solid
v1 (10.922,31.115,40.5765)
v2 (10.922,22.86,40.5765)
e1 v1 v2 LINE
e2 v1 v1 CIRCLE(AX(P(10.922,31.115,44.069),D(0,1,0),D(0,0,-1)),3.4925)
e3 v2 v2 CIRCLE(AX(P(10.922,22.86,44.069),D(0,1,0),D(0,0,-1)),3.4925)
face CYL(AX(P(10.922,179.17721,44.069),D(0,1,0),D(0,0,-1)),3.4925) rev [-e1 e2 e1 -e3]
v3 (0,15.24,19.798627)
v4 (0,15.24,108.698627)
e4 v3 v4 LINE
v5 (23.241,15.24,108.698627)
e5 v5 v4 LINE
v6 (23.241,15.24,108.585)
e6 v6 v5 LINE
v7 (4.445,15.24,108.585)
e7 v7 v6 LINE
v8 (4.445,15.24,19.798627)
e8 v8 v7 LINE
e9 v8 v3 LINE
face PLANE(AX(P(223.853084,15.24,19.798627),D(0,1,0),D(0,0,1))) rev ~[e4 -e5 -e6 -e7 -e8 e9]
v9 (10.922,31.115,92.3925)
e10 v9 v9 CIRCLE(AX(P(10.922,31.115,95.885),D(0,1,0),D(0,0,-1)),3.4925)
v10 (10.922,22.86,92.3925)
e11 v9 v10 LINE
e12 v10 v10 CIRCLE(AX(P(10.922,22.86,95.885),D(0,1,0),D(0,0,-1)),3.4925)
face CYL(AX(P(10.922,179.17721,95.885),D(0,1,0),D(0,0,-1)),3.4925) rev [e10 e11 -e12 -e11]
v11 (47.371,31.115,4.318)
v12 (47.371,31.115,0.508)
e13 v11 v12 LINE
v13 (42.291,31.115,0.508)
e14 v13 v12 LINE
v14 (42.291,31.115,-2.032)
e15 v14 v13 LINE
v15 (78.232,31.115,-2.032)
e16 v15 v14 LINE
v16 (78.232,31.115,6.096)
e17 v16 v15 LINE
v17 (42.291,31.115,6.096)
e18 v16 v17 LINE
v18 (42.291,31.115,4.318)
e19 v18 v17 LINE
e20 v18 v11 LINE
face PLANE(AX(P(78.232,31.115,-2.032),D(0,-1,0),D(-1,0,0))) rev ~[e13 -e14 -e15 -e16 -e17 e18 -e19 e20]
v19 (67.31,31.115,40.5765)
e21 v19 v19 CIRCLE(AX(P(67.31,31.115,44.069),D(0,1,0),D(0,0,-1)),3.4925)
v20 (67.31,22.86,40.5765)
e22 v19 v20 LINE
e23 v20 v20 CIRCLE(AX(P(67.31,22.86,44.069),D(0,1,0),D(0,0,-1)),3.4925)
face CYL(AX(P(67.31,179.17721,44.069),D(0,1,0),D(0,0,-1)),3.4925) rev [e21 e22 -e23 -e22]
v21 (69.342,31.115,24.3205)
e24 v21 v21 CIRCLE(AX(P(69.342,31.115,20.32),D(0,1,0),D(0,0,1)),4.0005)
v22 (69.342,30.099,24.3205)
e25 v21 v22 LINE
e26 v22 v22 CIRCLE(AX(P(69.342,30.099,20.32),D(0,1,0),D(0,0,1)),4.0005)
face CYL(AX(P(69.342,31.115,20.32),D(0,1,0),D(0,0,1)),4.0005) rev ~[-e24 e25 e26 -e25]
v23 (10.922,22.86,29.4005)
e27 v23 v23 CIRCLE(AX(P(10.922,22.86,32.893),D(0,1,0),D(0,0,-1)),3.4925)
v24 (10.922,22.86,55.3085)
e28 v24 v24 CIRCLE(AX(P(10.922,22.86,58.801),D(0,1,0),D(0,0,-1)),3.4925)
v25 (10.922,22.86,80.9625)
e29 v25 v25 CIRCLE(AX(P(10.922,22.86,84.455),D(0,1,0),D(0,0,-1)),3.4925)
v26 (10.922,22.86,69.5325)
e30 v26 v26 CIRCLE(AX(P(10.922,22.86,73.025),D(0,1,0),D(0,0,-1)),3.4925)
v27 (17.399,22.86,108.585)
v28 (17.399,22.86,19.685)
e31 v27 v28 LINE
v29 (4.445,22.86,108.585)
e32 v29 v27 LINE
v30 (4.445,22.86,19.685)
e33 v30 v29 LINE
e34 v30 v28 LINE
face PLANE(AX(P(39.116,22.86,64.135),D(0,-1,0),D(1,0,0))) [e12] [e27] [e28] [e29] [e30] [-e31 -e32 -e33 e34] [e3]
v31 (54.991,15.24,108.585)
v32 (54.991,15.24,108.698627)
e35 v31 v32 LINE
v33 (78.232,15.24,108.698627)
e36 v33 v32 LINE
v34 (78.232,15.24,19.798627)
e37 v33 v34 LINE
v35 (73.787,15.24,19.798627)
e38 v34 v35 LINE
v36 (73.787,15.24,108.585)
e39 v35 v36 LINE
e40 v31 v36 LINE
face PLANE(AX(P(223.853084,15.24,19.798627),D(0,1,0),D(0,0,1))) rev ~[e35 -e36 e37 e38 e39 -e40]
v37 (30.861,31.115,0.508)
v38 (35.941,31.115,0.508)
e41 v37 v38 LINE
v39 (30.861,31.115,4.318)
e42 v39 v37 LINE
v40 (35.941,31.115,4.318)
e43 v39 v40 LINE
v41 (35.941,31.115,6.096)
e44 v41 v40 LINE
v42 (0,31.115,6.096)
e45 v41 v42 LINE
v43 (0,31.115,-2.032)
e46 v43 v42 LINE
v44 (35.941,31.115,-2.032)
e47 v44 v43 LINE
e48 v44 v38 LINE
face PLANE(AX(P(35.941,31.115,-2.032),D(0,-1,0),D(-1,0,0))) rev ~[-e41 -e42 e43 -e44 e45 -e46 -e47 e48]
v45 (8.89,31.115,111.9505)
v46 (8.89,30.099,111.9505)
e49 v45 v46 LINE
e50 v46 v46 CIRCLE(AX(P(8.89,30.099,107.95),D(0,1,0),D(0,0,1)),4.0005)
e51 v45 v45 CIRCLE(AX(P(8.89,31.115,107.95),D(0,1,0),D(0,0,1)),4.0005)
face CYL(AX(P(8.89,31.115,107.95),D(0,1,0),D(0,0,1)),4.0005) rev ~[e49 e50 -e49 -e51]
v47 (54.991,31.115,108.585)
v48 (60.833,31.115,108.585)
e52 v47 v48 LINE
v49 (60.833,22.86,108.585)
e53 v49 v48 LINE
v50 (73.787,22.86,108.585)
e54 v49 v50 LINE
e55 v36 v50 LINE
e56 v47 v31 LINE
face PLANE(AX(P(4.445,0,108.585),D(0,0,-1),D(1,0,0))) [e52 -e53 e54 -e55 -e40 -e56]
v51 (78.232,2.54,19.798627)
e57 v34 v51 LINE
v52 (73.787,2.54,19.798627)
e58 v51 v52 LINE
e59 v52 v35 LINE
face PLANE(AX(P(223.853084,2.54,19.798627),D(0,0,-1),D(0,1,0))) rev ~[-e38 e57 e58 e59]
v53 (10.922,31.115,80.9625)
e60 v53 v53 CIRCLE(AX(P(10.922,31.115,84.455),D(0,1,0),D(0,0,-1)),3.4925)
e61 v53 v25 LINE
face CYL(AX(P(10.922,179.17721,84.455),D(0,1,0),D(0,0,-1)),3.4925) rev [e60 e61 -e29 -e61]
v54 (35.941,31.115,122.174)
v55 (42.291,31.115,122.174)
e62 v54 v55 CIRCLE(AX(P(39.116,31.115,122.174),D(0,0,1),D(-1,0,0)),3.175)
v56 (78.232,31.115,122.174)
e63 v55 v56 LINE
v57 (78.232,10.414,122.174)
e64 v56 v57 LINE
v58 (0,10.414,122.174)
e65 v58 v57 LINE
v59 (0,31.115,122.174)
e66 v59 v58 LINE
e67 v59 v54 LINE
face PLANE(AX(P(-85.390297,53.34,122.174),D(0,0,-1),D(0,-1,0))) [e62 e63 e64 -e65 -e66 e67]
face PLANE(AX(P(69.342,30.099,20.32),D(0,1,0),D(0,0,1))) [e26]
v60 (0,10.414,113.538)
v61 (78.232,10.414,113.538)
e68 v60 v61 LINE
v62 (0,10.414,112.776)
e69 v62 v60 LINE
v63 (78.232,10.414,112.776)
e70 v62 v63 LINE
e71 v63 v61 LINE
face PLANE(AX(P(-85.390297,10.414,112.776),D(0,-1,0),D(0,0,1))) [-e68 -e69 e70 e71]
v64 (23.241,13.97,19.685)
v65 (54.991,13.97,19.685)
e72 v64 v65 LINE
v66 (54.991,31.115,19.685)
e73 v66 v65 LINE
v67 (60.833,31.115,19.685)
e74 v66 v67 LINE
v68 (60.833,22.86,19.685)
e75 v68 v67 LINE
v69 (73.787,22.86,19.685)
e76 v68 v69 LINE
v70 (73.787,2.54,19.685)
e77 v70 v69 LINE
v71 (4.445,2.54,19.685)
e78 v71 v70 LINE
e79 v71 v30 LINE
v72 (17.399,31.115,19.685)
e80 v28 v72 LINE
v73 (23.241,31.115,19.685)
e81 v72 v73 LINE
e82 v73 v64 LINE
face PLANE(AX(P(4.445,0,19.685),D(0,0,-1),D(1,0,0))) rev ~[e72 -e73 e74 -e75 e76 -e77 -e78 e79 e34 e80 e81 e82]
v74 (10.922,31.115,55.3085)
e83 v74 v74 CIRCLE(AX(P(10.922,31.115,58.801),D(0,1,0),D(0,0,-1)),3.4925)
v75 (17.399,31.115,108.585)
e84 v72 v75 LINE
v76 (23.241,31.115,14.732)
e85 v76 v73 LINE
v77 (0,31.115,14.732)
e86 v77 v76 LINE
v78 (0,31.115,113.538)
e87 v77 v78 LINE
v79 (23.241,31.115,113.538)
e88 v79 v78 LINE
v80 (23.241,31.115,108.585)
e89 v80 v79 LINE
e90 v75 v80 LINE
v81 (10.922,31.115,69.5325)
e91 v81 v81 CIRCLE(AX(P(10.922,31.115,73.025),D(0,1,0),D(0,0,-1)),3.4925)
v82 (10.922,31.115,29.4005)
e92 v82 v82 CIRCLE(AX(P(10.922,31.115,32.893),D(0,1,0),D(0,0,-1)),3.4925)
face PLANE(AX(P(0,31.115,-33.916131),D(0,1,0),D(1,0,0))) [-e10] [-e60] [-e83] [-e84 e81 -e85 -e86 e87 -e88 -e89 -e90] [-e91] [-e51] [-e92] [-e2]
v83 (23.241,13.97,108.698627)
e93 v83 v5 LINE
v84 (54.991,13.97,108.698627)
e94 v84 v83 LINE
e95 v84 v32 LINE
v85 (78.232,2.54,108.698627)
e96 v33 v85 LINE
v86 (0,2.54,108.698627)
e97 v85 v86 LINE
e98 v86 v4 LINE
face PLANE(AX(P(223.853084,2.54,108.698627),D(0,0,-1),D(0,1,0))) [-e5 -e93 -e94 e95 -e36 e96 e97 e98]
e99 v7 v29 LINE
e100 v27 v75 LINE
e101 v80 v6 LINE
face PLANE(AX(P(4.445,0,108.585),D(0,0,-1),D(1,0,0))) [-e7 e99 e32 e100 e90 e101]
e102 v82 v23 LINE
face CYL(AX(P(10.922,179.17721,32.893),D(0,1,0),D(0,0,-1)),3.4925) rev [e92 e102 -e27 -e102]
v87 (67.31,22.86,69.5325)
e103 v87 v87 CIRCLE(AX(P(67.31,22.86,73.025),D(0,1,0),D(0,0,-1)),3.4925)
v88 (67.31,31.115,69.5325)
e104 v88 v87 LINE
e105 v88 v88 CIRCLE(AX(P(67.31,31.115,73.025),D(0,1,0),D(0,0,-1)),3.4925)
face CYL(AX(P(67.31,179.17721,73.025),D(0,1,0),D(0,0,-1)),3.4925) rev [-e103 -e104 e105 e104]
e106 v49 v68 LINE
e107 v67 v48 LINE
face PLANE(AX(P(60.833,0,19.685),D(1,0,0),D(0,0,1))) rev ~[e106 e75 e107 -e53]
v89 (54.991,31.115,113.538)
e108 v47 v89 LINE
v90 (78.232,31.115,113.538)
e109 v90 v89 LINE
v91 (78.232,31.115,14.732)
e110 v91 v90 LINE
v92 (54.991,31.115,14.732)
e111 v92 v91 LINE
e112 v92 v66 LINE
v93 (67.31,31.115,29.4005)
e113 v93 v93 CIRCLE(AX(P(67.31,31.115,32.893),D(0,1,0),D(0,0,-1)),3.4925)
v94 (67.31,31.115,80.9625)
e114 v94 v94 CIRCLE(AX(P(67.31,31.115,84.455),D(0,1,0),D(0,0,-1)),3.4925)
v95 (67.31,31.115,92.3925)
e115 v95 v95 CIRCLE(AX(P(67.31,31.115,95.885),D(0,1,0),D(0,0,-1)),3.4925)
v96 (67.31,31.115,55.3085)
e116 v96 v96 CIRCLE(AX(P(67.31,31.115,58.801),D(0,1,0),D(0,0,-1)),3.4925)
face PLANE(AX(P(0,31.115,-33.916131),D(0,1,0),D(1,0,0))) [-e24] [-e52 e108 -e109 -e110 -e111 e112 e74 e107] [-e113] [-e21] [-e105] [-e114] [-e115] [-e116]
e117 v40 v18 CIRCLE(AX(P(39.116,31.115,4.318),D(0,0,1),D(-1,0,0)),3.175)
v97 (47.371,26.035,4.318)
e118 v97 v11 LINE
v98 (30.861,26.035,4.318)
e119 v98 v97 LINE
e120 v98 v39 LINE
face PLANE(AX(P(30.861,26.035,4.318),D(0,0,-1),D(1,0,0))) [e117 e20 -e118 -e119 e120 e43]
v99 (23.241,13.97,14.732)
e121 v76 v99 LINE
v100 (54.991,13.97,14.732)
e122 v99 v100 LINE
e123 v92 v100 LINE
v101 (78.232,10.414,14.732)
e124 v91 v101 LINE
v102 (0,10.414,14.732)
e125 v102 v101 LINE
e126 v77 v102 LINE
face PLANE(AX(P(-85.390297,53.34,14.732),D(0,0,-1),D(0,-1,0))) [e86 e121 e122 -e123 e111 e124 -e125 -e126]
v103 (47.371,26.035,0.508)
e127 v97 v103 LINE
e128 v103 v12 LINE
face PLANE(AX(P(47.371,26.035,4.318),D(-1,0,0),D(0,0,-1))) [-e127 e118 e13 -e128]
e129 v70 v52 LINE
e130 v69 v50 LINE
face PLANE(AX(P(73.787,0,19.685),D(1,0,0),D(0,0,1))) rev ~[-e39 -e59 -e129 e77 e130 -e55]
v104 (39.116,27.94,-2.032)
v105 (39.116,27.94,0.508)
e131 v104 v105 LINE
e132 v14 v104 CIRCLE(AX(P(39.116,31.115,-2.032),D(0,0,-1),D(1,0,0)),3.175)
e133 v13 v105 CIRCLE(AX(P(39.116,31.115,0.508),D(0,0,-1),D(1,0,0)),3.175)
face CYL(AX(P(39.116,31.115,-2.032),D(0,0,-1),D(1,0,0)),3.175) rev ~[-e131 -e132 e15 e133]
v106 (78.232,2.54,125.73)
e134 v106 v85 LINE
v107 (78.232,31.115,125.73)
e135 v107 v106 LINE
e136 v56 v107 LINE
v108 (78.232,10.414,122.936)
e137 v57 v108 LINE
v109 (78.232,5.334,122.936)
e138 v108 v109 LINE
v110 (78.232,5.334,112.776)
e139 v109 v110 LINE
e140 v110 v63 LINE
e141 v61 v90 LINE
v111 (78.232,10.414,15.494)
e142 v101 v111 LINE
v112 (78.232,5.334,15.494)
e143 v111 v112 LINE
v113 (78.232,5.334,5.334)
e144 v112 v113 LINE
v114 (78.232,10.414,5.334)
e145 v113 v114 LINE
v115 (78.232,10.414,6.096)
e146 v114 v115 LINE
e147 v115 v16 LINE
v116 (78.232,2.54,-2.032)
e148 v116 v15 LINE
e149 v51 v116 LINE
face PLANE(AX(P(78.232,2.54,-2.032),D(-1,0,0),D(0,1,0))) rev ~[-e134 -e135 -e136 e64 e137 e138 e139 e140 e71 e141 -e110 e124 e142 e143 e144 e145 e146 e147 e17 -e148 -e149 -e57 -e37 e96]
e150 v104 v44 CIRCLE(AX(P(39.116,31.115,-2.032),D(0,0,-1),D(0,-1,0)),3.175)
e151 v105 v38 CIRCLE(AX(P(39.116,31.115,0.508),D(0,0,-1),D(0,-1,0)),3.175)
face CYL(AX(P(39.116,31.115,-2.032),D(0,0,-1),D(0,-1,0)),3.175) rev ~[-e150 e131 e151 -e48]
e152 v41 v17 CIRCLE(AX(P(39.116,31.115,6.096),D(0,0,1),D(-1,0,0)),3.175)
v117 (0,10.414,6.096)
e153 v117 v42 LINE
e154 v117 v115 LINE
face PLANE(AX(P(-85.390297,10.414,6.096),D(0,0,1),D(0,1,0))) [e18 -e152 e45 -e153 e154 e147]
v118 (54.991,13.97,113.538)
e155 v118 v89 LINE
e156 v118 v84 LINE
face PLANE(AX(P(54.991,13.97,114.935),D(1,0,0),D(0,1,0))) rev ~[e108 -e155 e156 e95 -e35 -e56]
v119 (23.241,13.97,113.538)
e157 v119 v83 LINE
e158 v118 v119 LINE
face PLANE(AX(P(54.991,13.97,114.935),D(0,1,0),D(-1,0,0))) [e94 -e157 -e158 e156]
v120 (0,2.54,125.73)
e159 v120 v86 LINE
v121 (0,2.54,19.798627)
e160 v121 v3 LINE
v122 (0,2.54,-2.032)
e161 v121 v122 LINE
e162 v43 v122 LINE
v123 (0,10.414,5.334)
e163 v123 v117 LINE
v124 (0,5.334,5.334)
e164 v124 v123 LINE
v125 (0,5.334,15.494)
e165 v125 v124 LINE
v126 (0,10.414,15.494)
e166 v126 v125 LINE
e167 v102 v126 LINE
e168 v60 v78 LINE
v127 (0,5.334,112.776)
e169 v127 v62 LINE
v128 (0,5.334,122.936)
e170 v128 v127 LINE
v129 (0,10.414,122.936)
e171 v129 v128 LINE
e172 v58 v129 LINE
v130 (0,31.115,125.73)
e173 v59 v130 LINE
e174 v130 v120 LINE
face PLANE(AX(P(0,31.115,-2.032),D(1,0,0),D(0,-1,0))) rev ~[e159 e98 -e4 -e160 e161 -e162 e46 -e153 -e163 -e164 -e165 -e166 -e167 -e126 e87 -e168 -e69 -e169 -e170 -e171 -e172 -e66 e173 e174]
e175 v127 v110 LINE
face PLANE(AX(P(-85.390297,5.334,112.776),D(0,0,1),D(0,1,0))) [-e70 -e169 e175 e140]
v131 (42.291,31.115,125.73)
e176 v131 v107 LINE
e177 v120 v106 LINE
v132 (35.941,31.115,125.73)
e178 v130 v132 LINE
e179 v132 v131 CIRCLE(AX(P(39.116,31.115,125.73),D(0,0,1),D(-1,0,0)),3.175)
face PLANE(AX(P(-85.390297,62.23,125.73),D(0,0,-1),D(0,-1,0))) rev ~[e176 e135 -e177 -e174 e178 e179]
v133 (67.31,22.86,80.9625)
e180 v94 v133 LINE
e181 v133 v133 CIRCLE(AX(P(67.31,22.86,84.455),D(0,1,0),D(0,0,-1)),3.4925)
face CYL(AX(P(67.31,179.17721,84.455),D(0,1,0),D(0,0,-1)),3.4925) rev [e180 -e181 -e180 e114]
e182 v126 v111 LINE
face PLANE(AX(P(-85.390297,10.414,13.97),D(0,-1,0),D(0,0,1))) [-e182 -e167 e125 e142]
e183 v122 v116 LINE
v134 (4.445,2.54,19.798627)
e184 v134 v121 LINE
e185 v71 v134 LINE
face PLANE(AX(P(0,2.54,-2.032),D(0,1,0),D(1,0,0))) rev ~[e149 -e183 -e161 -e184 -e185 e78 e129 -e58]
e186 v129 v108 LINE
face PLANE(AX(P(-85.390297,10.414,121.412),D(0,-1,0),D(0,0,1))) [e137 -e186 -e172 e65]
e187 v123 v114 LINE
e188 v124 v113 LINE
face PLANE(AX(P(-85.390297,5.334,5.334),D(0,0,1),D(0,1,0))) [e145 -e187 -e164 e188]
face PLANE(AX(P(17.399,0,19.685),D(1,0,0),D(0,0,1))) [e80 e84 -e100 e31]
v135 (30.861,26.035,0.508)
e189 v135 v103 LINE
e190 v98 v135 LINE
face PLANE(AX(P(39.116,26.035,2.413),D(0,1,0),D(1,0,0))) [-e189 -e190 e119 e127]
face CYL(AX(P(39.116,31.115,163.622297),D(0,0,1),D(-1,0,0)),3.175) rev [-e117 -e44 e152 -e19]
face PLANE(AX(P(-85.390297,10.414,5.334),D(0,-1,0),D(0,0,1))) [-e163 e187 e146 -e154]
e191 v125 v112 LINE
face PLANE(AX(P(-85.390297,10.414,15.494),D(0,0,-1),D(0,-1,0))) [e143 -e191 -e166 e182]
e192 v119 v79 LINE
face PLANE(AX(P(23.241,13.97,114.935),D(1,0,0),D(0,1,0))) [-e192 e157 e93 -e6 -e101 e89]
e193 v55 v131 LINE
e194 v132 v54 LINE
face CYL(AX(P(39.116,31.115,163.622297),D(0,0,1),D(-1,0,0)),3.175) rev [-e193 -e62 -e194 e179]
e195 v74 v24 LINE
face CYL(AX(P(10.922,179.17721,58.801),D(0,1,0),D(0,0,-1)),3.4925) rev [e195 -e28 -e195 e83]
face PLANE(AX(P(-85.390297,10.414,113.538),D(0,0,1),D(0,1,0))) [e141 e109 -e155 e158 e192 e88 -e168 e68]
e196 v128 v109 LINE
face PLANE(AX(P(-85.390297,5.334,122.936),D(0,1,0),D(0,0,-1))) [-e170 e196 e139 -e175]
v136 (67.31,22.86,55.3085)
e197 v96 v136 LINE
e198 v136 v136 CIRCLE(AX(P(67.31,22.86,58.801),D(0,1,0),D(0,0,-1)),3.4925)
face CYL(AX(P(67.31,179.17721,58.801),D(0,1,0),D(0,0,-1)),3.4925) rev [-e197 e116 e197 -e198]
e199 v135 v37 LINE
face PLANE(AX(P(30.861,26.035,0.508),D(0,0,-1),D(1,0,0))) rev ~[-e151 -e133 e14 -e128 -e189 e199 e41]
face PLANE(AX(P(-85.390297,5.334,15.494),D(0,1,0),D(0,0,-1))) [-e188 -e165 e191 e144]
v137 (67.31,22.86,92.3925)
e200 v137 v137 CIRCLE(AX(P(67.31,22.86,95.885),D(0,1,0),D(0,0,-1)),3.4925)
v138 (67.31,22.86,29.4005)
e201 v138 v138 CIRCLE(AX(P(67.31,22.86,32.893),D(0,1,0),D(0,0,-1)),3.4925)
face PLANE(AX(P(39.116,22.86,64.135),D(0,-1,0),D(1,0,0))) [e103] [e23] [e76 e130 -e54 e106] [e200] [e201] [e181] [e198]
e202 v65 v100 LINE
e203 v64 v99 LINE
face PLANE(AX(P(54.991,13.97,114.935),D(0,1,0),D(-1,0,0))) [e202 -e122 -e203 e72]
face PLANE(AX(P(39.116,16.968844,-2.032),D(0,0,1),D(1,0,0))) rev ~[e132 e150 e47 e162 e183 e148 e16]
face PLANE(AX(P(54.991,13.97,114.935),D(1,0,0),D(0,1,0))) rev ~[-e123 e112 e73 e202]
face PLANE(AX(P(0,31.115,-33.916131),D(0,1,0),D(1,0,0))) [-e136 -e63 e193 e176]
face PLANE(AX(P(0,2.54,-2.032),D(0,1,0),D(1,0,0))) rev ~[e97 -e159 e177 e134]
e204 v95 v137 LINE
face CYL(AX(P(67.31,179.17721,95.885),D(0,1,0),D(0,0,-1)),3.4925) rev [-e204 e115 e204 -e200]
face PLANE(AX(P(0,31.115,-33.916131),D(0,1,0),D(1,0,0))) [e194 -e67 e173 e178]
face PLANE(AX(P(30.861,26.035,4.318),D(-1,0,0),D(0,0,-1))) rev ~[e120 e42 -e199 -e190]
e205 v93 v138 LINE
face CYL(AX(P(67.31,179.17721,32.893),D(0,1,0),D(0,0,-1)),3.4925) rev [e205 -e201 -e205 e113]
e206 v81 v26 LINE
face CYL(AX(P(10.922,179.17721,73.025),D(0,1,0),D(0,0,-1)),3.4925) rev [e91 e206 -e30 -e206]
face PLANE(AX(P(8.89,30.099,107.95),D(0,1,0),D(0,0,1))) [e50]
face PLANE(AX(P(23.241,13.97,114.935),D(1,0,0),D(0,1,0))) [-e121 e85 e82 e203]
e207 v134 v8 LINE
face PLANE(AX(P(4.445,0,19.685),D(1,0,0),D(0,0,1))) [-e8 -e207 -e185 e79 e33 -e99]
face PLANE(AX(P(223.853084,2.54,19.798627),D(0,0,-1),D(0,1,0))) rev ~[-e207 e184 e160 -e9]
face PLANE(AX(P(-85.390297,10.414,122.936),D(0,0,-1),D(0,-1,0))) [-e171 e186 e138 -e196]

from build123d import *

# Parameters (mm, degrees)
SKETCH1_W                = 78.232
SKETCH1_H                = 62.23
BOSS_EXTRUDE1_DEPTH      = 128.27
SKETCH2_W                = 43.434
SKETCH2_H                = 88.9
CUT_EXTRUDE1_DEPTH       = 44.45
SKETCH3_W                = 69.342
SKETCH3_H                = 88.9
CUT_EXTRUDE2_DEPTH       = 22.86
CUT_EXTRUDE3_DEPTH       = 163.622297438
CUT_EXTRUDE3_DEPTH_BACK  = 163.622297438
SKETCH4_R                = 3.175
CUT_EXTRUDE4_DEPTH       = 156.317209684
CUT_EXTRUDE4_DEPTH_BACK  = 156.317209684
SKETCH6_R                = 3.4925
CUT_EXTRUDE6_DEPTH       = 163.622297438
CUT_EXTRUDE6_DEPTH_BACK  = 163.622297438
CUT_EXTRUDE7_DEPTH       = 163.622297438
CUT_EXTRUDE7_DEPTH_BACK  = 163.622297438
CUT_EXTRUDE8_DEPTH       = 159.64613082
CUT_EXTRUDE8_DEPTH_BACK  = 107.95
SKETCH9_W                = 44.45
SKETCH9_H                = 5.08
SKETCH10_W               = 38.1
SKETCH10_H               = 80.01
CUT_EXTRUDE9_DEPTH       = 19.05
CUT_EXTRUDE10_START      = -6.35
SKETCH11_W               = 31.75
SKETCH11_H               = 34.29
CUT_EXTRUDE10_DEPTH      = 101.6
CUT_EXTRUDE11_DEPTH      = 159.64613082
CUT_EXTRUDE11_DEPTH_BACK = 159.64613082
SKETCH12_W               = 78.232
SKETCH12_H               = 31.115
BOSS_EXTRUDE4_START      = 4.572
BOSS_EXTRUDE4_DEPTH      = 4.572
CUT_EXTRUDE12_DEPTH      = 151.813823468
CUT_EXTRUDE12_DEPTH_BACK = 5.08
SKETCH18_W               = 16.51
SKETCH18_H               = 3.81
CUT_EXTRUDE13_DEPTH      = 150.066084318
CUT_EXTRUDE13_DEPTH_BACK = 150.066084318
SKETCH19_W               = 88.9
SKETCH19_H               = 12.7
SKETCH13_R               = 4.0005
CUT_EXTRUDE14_DEPTH      = 1.016
MOVE_FACE1_BY            = 0.762
MOVE_FACE1_2_BY          = 0.762
MOVE_FACE1_3_BY          = 0.762
MOVE_FACE1_4_BY          = 0.762


with BuildPart() as part:
    # Sketch1 → Boss-Extrude1 (new body)
    with BuildSketch(Plane.XY):
        with Locations((39.116, 31.115)):
            Rectangle(SKETCH1_W, SKETCH1_H)
    extrude(amount=BOSS_EXTRUDE1_DEPTH)

    # Sketch2 → Cut-Extrude1 (cut)
    with BuildSketch(Plane.XZ):
        with Locations((39.116, 64.135)):
            Rectangle(SKETCH2_W, SKETCH2_H)
    extrude(amount=-CUT_EXTRUDE1_DEPTH, mode=Mode.SUBTRACT)

    # Sketch3 → Cut-Extrude2 (cut)
    with BuildSketch(Plane.XZ):
        with Locations((39.116, 64.135)):
            Rectangle(SKETCH3_W, SKETCH3_H)
    extrude(amount=-CUT_EXTRUDE2_DEPTH, mode=Mode.SUBTRACT)

    # Sketch4 → Cut-Extrude3 (cut, two sides: drawn at the far end of the back side and taken through both)
    with BuildSketch(Plane(origin=(0, 0, 0), x_dir=(-1, 0, 0), z_dir=(0, 0, -1)).offset(-CUT_EXTRUDE3_DEPTH_BACK)):
        with Locations((-39.116, 31.115)):
            Circle(SKETCH4_R)
    extrude(amount=CUT_EXTRUDE3_DEPTH + CUT_EXTRUDE3_DEPTH_BACK, mode=Mode.SUBTRACT)

    # Sketch6 → Cut-Extrude4 (cut, two sides: drawn at the far end of the back side and taken through both)
    with BuildSketch(Plane.XZ.offset(-22.86).offset(-CUT_EXTRUDE4_DEPTH_BACK)):
        with Locations(Location((10.922, 32.893, 0), (0, 0, 270))):
            Circle(SKETCH6_R)
        with Locations(Location((10.922, 44.069, 0), (0, 0, 270))):
            Circle(SKETCH6_R)
        with Locations(Location((10.922, 58.801, 0), (0, 0, 270))):
            Circle(SKETCH6_R)
        with Locations(Location((10.922, 73.025, 0), (0, 0, 270))):
            Circle(SKETCH6_R)
        with Locations(Location((10.922, 84.455, 0), (0, 0, 270))):
            Circle(SKETCH6_R)
        with Locations(Location((10.922, 95.885, 0), (0, 0, 270))):
            Circle(SKETCH6_R)
        with Locations(Location((67.31, 95.885, 0), (0, 0, 270))):
            Circle(SKETCH6_R)
        with Locations(Location((67.31, 84.455, 0), (0, 0, 270))):
            Circle(SKETCH6_R)
        with Locations(Location((67.31, 73.025, 0), (0, 0, 270))):
            Circle(SKETCH6_R)
        with Locations(Location((67.31, 58.801, 0), (0, 0, 270))):
            Circle(SKETCH6_R)
        with Locations(Location((67.31, 44.069, 0), (0, 0, 270))):
            Circle(SKETCH6_R)
        with Locations(Location((67.31, 32.893, 0), (0, 0, 270))):
            Circle(SKETCH6_R)
    extrude(amount=CUT_EXTRUDE4_DEPTH + CUT_EXTRUDE4_DEPTH_BACK, mode=Mode.SUBTRACT)

    # Sketch7 → Cut-Extrude6 (cut, two sides: drawn at the far end of the back side and taken through both)
    with BuildSketch(Plane(origin=(78.232, 0, 0), x_dir=(0, 0, -1), z_dir=(1, 0, 0)).offset(-CUT_EXTRUDE6_DEPTH_BACK)):
        Polygon((-122.936, 58.42), (-122.936, 53.34), (-121.412, 53.34), (-121.412, 10.414), (-122.936, 10.414), (-122.936, 5.334), (-112.776, 5.334), (-112.776, 10.414), (-114.3, 10.414), (-114.3, 53.34), (-112.776, 53.34), (-112.776, 58.42), align=None)
        Polygon((-15.494, 58.42), (-15.494, 53.34), (-13.97, 53.34), (-13.97, 10.414), (-15.494, 10.414), (-15.494, 5.334), (-5.334, 5.334), (-5.334, 10.414), (-6.858, 10.414), (-6.858, 53.34), (-5.334, 53.34), (-5.334, 58.42), align=None)
    extrude(amount=CUT_EXTRUDE6_DEPTH + CUT_EXTRUDE6_DEPTH_BACK, mode=Mode.SUBTRACT)

    # Sketch8 → Cut-Extrude7 (cut, two sides: drawn at the far end of the back side and taken through both)
    with BuildSketch(Plane(origin=(78.232, 0, 0), x_dir=(0, 0, -1), z_dir=(1, 0, 0)).offset(-CUT_EXTRUDE7_DEPTH_BACK)):
        Polygon((-128.27, 62.23), (-125.73, 62.23), (-125.73, 2.54), (-2.54, 2.54), (-2.54, 62.23), (0, 62.23), (0, 0), (-128.27, 0), align=None)
    extrude(amount=CUT_EXTRUDE7_DEPTH + CUT_EXTRUDE7_DEPTH_BACK, mode=Mode.SUBTRACT)

    # Sketch9 → Cut-Extrude8 (cut, two sides: drawn at the far end of the back side and taken through both)
    with BuildSketch(Plane(origin=(0, 0, 2.54), x_dir=(-1, 0, 0), z_dir=(0, 0, -1)).offset(-CUT_EXTRUDE8_DEPTH_BACK)):
        with Locations((-39.116, 57.15)):
            Rectangle(SKETCH9_W, SKETCH9_H)
    extrude(amount=CUT_EXTRUDE8_DEPTH + CUT_EXTRUDE8_DEPTH_BACK, mode=Mode.SUBTRACT)

    # Sketch10 → Cut-Extrude9 (cut)
    with BuildSketch(Plane(origin=(0, 62.23, 0), x_dir=(1, 0, 0), z_dir=(0, 1, 0))):
        with Locations((39.243, -64.135)):
            Rectangle(SKETCH10_W, SKETCH10_H)
    extrude(amount=-CUT_EXTRUDE9_DEPTH, mode=Mode.SUBTRACT)

    # Sketch11 → Cut-Extrude10 (cut)
    with BuildSketch(Plane(origin=(0, 0, 108.585), x_dir=(-1, 0, 0), z_dir=(0, 0, -1)).offset(CUT_EXTRUDE10_START)):
        with Locations((-39.116, 31.115)):
            Rectangle(SKETCH11_W, SKETCH11_H)
    extrude(amount=CUT_EXTRUDE10_DEPTH, mode=Mode.SUBTRACT)

    # Sketch12 → Cut-Extrude11 (cut, two sides: drawn at the far end of the back side and taken through both)
    with BuildSketch(Plane.XY.offset(125.73).offset(-CUT_EXTRUDE11_DEPTH_BACK)):
        with Locations((39.116, 46.6725)):
            Rectangle(SKETCH12_W, SKETCH12_H)
    extrude(amount=CUT_EXTRUDE11_DEPTH + CUT_EXTRUDE11_DEPTH_BACK, mode=Mode.SUBTRACT)

    # Sketch17 → Boss-Extrude4 (add)
    with BuildSketch(Plane(origin=(0, 0, 2.54), x_dir=(-1, 0, 0), z_dir=(0, 0, -1)).offset(BOSS_EXTRUDE4_START)):
        with BuildLine():
            Line((-78.232, 31.115), (-42.291, 31.115))
            ThreePointArc((-42.291, 31.115), (-41.36106403, 28.86993597), (-39.116, 27.94))
            ThreePointArc((-39.116, 27.94), (-36.87093597, 28.86993597), (-35.941, 31.115))
            Line((-35.941, 31.115), (0, 31.115))
            Line((0, 31.115), (0, 2.54))
            Line((0, 2.54), (-78.232, 2.54))
            Line((-78.232, 2.54), (-78.232, 31.115))
        make_face()
    extrude(amount=-BOSS_EXTRUDE4_DEPTH)

    # Sketch18 → Cut-Extrude12 (cut, two sides: drawn at the far end of the back side and taken through both)
    with BuildSketch(Plane(origin=(0, 31.115, 0), x_dir=(1, 0, 0), z_dir=(0, 1, 0)).offset(-CUT_EXTRUDE12_DEPTH_BACK)):
        with Locations((39.116, -2.413)):
            Rectangle(SKETCH18_W, SKETCH18_H)
    extrude(amount=CUT_EXTRUDE12_DEPTH + CUT_EXTRUDE12_DEPTH_BACK, mode=Mode.SUBTRACT)

    # Sketch19 → Cut-Extrude13 (cut, two sides: drawn at the far end of the back side and taken through both)
    with BuildSketch(Plane.ZY.offset(-73.787).offset(-CUT_EXTRUDE13_DEPTH_BACK)):
        with Locations((64.248626707, 8.89)):
            Rectangle(SKETCH19_W, SKETCH19_H)
    extrude(amount=CUT_EXTRUDE13_DEPTH + CUT_EXTRUDE13_DEPTH_BACK, mode=Mode.SUBTRACT)

    # Sketch13 → Cut-Extrude14 (cut)
    with BuildSketch(Plane(origin=(0, 31.115, 0), x_dir=(1, 0, 0), z_dir=(0, 1, 0))):
        with Locations(Location((69.342, -20.32, 0), (0, 0, 270))):
            Circle(SKETCH13_R)
        with Locations(Location((8.89, -107.95, 0), (0, 0, 270))):
            Circle(SKETCH13_R)
    extrude(amount=-CUT_EXTRUDE14_DEPTH, mode=Mode.SUBTRACT)

    # Move Face1: a face moved inward by 0.762
    extrude(part.faces().sort_by_distance((39.116, 20.675603328, 6.858))[0], amount=MOVE_FACE1_BY, dir=(0, 0, -1), mode=Mode.SUBTRACT)

    # Move Face1 2: a face moved inward by 0.762
    extrude(part.faces().sort_by_distance((58.674, 20.7645, 13.97))[0], amount=MOVE_FACE1_2_BY, dir=(0, 0, 1), mode=Mode.SUBTRACT)

    # Move Face1 3: a face moved inward by 0.762
    extrude(part.faces().sort_by_distance((58.674, 20.7645, 114.3))[0], amount=MOVE_FACE1_3_BY, dir=(0, 0, -1), mode=Mode.SUBTRACT)

    # Move Face1 4: a face moved inward by 0.762
    extrude(part.faces().sort_by_distance((39.116, 20.675603328, 121.412))[0], amount=MOVE_FACE1_4_BY, dir=(0, 0, 1), mode=Mode.SUBTRACT)


solid = part.part
